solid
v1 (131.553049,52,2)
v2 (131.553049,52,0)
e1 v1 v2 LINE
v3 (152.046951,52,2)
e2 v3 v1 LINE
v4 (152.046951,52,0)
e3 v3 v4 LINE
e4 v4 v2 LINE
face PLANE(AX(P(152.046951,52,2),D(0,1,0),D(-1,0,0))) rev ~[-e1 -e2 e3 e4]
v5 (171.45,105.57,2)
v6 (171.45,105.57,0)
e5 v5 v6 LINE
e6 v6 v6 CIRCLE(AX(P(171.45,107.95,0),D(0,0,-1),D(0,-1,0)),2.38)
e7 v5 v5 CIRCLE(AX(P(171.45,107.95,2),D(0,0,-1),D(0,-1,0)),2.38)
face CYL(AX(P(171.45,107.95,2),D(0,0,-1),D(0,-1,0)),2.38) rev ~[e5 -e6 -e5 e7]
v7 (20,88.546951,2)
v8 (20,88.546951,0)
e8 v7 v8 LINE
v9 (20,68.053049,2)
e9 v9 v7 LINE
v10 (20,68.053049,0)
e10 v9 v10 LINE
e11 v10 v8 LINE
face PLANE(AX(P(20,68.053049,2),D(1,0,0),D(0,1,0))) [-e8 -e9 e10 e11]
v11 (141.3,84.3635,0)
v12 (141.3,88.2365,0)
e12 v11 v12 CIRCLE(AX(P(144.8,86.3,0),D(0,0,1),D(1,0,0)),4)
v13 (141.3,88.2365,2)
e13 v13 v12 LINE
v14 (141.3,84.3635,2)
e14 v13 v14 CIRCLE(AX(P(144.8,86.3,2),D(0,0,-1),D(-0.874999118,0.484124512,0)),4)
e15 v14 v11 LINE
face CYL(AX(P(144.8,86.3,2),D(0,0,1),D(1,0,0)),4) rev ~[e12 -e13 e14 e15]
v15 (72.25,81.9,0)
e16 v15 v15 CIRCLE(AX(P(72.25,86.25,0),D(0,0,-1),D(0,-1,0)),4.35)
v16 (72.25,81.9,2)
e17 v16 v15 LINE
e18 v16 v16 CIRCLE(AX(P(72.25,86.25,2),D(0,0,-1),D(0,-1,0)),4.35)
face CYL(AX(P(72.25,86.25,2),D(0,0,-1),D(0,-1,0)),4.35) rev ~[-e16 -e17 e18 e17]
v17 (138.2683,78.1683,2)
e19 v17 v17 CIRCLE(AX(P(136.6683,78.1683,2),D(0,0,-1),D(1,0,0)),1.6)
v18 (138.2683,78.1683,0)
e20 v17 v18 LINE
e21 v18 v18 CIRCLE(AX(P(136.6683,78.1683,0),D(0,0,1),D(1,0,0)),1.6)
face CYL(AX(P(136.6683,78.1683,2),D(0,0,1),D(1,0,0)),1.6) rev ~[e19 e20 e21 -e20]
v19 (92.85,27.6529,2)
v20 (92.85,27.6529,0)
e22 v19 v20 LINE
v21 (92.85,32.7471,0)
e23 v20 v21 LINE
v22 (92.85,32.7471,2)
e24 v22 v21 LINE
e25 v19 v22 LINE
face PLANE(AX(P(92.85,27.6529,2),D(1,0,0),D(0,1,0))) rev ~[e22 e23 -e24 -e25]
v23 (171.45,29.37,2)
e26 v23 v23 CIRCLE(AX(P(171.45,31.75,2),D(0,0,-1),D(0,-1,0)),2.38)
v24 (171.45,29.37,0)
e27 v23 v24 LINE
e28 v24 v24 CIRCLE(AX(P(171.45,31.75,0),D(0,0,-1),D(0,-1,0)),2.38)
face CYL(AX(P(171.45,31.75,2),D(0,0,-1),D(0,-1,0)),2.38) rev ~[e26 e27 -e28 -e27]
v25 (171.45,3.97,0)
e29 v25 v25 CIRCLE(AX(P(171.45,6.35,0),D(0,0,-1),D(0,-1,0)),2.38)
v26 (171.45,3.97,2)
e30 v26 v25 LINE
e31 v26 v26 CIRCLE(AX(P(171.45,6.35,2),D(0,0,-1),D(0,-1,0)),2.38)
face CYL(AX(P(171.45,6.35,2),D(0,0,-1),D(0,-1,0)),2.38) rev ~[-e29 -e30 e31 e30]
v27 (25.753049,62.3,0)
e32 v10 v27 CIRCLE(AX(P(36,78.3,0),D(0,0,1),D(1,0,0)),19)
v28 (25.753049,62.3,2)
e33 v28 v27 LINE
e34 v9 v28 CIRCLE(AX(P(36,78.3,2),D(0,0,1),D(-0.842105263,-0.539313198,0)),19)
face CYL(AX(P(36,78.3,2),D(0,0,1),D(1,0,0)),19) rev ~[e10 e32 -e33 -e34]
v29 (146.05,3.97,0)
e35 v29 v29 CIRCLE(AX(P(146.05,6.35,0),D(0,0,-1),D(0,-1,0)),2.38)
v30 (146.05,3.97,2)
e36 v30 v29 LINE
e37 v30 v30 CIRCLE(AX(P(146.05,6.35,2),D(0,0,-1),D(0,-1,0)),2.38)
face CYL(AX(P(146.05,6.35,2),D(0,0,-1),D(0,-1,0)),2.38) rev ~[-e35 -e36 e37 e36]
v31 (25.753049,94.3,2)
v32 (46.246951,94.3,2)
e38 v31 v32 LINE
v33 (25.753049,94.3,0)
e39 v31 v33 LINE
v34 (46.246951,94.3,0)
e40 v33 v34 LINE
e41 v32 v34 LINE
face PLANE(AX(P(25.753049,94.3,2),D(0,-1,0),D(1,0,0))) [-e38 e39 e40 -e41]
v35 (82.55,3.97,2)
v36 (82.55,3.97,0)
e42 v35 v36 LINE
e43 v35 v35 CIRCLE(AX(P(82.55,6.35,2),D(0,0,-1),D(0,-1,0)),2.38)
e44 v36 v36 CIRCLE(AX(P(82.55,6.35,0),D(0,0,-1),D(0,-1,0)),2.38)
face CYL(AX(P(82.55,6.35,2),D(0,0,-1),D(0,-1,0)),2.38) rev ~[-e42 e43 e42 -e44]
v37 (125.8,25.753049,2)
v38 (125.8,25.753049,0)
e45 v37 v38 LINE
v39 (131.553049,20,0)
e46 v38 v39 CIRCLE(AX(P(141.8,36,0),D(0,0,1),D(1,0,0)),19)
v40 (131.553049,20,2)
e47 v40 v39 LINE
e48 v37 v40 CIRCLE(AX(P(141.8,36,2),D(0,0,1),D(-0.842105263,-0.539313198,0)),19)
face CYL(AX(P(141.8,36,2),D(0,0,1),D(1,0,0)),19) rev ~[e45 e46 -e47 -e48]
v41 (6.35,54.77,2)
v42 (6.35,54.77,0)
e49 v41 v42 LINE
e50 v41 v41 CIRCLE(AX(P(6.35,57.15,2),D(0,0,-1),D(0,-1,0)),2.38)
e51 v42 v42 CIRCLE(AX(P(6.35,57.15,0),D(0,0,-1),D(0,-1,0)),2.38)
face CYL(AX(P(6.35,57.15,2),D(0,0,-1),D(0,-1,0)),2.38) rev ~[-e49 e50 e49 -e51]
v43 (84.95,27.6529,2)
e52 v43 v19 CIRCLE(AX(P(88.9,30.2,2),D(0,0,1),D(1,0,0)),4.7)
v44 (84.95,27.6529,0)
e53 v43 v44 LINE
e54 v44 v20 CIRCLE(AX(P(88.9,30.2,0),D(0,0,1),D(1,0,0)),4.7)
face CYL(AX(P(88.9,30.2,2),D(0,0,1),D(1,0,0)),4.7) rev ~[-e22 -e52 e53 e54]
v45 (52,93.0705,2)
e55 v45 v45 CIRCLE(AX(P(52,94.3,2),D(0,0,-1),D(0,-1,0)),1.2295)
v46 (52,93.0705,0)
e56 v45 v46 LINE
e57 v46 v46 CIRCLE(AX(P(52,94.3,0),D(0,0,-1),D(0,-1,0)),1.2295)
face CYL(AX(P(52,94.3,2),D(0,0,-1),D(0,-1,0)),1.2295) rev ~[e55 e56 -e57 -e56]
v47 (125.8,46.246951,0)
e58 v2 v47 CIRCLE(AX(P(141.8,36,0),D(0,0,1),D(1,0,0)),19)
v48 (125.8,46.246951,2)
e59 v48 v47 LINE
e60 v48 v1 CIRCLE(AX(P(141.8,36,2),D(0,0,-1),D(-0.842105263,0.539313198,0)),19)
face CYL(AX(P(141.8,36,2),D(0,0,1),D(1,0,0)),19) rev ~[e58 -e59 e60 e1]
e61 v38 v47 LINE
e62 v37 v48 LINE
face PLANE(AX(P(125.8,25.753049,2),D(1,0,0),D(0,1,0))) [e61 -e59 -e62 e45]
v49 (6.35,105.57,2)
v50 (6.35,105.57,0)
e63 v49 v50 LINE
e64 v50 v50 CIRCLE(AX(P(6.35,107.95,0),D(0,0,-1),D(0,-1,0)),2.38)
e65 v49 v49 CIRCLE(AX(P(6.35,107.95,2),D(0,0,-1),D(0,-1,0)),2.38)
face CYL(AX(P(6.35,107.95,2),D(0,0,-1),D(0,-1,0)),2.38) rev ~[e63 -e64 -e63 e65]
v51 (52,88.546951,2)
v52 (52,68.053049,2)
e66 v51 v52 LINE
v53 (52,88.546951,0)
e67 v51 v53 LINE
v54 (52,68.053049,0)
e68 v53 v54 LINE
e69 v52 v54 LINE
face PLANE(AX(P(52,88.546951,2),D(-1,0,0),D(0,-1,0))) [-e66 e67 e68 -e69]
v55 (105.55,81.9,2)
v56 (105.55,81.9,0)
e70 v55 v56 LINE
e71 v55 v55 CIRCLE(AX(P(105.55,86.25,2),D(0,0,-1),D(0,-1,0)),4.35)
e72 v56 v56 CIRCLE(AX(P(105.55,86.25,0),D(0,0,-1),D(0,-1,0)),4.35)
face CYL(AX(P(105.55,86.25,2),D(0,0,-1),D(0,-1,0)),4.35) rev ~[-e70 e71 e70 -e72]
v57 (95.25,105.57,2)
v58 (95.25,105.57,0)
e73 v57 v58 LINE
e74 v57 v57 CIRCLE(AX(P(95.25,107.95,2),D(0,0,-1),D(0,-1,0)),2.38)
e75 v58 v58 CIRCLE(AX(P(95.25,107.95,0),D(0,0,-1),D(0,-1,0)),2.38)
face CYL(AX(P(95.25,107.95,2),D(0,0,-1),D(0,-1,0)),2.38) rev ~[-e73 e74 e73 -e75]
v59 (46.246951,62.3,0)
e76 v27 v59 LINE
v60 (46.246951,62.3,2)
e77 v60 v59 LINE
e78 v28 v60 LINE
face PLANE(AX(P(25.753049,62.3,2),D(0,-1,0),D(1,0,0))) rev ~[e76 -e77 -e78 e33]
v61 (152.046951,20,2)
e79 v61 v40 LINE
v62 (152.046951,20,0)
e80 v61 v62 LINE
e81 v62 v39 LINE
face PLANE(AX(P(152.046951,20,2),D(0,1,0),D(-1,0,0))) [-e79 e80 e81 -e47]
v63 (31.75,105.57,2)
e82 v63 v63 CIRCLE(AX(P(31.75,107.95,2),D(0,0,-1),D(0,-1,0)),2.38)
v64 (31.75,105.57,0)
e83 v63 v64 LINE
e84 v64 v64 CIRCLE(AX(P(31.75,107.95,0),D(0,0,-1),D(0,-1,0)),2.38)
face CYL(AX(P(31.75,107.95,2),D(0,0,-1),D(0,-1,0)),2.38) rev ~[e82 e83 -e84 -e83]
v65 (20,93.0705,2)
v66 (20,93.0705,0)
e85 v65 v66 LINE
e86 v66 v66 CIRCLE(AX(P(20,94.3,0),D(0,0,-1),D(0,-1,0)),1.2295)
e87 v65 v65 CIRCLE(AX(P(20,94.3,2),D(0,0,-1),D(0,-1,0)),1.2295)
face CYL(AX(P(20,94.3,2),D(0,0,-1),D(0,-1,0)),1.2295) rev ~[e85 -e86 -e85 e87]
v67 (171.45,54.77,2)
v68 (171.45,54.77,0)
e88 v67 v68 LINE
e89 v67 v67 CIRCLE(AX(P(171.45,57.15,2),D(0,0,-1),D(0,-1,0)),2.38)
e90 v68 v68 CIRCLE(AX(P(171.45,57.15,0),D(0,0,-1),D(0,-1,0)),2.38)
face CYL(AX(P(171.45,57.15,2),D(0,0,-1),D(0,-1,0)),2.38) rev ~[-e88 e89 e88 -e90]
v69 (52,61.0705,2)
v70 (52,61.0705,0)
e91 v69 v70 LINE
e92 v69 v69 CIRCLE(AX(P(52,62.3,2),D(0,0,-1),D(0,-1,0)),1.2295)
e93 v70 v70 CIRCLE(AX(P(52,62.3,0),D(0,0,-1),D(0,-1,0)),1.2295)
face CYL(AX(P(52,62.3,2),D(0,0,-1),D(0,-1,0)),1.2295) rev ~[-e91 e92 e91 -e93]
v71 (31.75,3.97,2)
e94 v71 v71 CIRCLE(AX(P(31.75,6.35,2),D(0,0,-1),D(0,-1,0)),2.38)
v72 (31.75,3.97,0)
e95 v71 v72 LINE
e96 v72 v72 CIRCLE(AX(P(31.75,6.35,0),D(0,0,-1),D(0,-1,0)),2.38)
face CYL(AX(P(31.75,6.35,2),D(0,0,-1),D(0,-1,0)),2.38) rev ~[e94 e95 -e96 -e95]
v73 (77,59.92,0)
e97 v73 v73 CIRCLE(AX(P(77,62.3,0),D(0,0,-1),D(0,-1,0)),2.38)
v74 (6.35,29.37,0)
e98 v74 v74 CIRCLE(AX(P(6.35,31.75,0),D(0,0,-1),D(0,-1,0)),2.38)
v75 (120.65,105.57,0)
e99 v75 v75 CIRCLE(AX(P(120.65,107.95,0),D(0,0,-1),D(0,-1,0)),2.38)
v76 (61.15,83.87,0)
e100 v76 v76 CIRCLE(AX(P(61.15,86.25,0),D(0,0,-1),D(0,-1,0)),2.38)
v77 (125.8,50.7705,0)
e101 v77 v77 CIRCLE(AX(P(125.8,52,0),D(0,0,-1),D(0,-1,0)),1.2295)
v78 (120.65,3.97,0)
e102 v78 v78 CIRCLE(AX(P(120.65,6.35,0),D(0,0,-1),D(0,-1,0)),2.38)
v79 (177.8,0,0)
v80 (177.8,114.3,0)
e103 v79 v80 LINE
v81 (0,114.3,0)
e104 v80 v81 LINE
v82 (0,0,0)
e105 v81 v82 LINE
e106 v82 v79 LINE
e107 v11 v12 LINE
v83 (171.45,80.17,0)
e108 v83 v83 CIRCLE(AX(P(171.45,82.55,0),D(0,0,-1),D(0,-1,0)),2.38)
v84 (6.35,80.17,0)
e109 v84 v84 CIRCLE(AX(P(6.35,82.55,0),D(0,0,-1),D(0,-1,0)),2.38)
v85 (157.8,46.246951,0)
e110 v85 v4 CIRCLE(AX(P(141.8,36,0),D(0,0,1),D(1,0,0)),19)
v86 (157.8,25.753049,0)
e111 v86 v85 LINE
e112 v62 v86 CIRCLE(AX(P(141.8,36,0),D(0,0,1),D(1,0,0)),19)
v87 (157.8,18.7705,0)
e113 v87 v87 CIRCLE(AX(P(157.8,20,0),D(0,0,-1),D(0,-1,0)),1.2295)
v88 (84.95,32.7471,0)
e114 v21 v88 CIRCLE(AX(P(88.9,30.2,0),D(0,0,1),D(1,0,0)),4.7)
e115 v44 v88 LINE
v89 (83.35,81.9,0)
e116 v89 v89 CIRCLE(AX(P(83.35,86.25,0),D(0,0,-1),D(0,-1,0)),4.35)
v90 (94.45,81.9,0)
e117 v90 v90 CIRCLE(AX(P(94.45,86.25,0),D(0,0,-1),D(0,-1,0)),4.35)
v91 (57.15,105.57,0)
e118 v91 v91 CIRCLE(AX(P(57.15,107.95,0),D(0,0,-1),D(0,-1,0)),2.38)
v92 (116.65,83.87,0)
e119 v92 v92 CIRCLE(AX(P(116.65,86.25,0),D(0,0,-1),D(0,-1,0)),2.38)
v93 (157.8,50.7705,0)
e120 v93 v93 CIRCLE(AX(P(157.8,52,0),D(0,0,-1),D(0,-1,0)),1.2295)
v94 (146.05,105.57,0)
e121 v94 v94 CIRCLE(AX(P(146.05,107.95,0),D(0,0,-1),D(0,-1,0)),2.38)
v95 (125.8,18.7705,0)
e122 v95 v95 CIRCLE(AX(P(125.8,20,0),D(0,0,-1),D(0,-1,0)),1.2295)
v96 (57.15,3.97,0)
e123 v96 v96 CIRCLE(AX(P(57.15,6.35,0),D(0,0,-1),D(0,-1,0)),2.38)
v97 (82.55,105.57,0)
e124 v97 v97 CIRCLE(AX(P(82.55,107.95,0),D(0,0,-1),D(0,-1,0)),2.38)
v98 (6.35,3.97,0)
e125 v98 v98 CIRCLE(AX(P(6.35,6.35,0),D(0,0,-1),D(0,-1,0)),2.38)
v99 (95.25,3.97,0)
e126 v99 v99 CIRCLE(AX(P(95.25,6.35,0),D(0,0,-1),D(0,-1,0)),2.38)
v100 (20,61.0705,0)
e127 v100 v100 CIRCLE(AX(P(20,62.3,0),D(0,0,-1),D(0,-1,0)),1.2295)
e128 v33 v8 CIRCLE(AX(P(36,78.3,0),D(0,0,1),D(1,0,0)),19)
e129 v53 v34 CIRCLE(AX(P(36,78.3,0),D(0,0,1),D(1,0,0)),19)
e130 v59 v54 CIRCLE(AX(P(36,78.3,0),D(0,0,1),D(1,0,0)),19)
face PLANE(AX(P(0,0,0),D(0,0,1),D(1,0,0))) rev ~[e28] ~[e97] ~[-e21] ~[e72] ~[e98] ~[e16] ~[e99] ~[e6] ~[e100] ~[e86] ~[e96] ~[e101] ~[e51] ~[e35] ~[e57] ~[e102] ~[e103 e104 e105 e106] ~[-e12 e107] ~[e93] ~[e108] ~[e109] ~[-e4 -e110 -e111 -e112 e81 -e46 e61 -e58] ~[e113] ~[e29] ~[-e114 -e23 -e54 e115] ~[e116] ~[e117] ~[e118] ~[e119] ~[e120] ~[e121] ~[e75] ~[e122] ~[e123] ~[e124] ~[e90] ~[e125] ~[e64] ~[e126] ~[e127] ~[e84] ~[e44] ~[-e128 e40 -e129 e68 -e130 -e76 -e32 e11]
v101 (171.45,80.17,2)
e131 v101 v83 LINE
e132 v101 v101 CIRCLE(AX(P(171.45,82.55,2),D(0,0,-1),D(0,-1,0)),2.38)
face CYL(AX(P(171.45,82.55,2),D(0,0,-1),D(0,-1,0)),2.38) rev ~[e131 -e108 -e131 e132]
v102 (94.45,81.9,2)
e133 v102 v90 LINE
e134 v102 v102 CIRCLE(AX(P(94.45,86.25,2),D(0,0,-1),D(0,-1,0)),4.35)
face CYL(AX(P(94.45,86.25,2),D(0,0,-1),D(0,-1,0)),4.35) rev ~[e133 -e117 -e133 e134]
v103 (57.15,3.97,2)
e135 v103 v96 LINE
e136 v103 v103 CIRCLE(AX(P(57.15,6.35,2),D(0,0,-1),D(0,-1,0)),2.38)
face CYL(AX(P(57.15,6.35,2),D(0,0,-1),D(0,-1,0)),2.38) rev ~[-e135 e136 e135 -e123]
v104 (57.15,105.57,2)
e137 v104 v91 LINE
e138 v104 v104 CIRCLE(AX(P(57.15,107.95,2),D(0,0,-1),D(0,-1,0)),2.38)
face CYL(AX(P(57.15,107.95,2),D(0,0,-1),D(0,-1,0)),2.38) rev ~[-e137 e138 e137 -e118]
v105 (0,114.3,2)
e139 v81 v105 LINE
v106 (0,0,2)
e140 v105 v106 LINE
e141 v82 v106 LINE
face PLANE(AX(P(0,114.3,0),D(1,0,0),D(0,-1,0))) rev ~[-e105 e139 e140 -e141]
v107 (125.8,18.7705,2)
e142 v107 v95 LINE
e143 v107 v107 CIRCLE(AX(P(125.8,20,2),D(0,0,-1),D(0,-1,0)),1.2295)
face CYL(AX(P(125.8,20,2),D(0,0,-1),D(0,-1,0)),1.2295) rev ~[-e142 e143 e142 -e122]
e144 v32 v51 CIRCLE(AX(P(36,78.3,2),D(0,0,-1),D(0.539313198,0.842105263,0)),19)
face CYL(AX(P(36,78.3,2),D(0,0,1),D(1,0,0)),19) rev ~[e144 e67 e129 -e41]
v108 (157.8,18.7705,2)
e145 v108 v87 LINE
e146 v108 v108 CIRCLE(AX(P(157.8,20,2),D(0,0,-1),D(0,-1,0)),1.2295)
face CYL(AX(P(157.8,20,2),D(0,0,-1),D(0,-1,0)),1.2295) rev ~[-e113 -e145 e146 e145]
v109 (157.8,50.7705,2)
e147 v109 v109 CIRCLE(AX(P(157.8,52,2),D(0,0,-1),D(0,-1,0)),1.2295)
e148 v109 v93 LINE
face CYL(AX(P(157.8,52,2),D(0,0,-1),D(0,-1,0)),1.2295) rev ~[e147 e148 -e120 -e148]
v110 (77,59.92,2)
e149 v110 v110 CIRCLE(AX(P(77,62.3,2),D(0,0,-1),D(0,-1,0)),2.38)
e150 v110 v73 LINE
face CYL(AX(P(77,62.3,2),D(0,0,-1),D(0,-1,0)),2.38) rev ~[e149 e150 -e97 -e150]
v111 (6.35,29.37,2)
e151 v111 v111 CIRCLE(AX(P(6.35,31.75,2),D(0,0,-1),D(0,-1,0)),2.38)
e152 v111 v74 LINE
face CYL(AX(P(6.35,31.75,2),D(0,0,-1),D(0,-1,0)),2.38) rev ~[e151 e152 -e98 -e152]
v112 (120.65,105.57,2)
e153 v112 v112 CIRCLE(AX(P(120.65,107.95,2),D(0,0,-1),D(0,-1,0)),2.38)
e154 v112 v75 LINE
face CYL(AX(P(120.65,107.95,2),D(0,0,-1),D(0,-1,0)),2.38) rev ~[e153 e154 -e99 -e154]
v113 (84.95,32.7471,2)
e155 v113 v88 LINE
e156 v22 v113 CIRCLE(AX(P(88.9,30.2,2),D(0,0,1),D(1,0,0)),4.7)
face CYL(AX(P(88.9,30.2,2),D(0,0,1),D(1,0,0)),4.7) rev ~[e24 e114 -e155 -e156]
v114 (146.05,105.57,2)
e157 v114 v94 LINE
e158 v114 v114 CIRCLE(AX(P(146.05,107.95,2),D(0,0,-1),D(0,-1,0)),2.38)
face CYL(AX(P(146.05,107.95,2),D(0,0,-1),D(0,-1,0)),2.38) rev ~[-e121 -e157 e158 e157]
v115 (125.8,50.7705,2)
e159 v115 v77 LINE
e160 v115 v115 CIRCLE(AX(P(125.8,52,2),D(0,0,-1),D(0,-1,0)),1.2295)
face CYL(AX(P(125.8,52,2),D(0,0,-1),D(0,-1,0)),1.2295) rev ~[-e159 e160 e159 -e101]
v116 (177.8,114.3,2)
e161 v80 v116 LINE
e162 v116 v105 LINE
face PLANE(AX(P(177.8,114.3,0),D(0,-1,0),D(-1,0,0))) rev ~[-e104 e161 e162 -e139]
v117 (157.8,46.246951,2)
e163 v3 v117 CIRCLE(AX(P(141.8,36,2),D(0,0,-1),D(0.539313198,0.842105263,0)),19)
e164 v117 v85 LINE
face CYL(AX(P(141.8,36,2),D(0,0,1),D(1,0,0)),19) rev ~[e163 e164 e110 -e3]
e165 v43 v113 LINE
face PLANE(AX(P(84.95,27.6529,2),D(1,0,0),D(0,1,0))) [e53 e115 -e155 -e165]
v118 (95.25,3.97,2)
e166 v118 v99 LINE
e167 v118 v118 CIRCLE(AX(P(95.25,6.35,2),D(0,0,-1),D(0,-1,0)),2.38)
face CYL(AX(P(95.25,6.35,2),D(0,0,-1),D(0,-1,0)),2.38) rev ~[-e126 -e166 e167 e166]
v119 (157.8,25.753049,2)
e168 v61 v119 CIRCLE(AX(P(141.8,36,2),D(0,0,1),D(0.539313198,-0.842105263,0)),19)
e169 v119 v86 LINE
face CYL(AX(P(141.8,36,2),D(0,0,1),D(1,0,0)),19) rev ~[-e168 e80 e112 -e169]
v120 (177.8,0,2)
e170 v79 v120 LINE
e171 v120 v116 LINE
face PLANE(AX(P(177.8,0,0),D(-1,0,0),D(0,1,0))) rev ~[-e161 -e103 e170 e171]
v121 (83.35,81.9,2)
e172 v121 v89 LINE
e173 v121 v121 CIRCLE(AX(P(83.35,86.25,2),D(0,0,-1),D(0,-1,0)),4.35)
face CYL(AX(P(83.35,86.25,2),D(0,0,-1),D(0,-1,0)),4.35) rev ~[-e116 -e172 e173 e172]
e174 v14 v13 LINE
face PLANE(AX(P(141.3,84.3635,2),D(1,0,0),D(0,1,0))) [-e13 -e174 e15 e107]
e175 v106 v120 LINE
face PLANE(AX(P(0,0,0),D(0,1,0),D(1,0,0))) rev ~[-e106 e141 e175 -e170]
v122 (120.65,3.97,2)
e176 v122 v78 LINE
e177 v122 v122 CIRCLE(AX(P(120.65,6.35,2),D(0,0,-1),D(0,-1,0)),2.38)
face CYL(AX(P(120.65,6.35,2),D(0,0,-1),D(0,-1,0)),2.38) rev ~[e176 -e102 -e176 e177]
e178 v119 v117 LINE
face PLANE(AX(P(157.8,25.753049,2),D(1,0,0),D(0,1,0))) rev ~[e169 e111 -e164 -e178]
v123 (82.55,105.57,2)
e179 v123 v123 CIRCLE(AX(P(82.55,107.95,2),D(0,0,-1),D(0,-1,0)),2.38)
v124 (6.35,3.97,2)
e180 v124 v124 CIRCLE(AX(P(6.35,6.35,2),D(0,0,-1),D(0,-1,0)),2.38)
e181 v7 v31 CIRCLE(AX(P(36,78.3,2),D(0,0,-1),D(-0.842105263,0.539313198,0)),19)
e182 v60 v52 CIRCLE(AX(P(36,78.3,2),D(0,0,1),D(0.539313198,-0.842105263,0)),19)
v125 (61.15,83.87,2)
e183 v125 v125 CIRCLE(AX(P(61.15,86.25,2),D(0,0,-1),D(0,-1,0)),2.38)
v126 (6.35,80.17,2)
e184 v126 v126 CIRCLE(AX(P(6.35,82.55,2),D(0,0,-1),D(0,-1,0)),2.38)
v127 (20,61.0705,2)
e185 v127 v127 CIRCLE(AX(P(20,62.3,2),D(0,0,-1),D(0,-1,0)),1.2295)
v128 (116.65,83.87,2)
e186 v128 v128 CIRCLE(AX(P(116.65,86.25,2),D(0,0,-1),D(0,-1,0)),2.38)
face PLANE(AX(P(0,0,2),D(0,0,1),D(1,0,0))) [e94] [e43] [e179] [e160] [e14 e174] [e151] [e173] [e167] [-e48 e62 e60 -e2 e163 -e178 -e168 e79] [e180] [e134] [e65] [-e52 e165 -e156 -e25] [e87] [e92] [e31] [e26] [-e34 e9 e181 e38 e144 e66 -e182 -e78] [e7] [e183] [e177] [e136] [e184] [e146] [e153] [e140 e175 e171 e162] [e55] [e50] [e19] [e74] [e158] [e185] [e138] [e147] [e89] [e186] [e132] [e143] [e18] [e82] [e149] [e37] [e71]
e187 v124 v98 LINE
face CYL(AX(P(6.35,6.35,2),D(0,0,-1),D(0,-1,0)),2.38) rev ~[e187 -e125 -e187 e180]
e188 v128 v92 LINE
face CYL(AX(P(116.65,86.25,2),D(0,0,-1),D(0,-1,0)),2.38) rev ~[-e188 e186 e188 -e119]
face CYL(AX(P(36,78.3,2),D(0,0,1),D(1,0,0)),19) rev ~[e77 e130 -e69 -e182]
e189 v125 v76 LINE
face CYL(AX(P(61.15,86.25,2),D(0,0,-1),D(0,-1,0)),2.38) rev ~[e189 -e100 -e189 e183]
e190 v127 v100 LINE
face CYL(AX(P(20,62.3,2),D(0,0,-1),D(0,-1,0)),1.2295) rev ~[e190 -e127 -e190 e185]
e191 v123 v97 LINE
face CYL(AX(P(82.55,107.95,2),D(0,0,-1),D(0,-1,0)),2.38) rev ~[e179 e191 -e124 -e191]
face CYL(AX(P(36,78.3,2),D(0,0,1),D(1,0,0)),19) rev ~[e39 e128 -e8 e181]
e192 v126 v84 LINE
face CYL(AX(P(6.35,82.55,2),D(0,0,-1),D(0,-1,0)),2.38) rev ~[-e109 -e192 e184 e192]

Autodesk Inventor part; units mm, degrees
ref_plane "YZ Plane" through (0, 0, 0) normal (1, 0, 0) x (0, 1, 0)
ref_plane "XZ Plane" through (0, 0, 0) normal (0, 1, 0) x (-1, 0, 0)
ref_plane "XY Plane" through (0, 0, 0) normal (0, 0, 1) x (1, 0, 0)
sketch "Sketch1" plane through (0, 0, 0) normal (0, 0, 1) x (1, 0, 0)
  line L0 (0, 0) -> (177.8, 0)
  line L1 (177.8, 0) -> (177.8, 114.3)
  line L2 (177.8, 114.3) -> (0, 114.3)
  line L3 (0, 114.3) -> (0, 0)
  dimension "d0" = 177.8
  dimension "d1" = 114.3
extrude "Extrusion1" add sketch "Sketch1" along normal blind 2
sketch "Sketch2" plane through (0, 0, 2) normal (0, 0, 1) x (1, 0, 0)
  line L0 (0, 114.3) -> (0, 0) projected
  line L1 (177.8, 114.3) -> (0, 114.3) projected
  line L2 (177.8, 0) -> (177.8, 114.3) projected
  point P0 (6.35, 107.95)
  point P1 (6.35, 82.55)
  point P2 (6.35, 57.15)
  point P3 (6.35, 31.75)
  point P4 (6.35, 6.35)
  point P5 (31.75, 6.35)
  point P6 (57.15, 6.35)
  point P7 (82.55, 6.35)
  point P8 (95.25, 6.35)
  point P9 (146.05, 6.35)
  point P10 (120.65, 6.35)
  point P11 (171.45, 6.35)
  point P12 (171.45, 31.75)
  point P13 (171.45, 57.15)
  point P14 (171.45, 82.55)
  point P15 (171.45, 107.95)
  point P16 (120.65, 107.95)
  point P17 (146.05, 107.95)
  point P18 (95.25, 107.95)
  point P19 (82.55, 107.95)
  point P20 (57.15, 107.95)
  point P21 (31.75, 107.95)
  dimension "d4" = 25.4
  dimension "d5" = 6.35
  dimension "d7" = 6.35
  dimension "d8" = 25.4
  dimension "d9" = 25.4
  dimension "d10" = 25.4
  dimension "d11" = 25.4
  dimension "d12" = 25.4
  dimension "d13" = 25.4
  dimension "d14" = 6.35
  dimension "d15" = 25.4
  dimension "d16" = 25.4
  dimension "d17" = 25.4
hole "Hole1" at (6.35, 107.95, 2) at (6.35, 82.55, 2) at (6.35, 57.15, 2) at (6.35, 31.75, 2) at (6.35, 6.35, 2) at (31.75, 6.35, 2) at (57.15, 6.35, 2) at (82.55, 6.35, 2) at (95.25, 6.35, 2) at (146.05, 6.35, 2) at (120.65, 6.35, 2) at (171.45, 6.35, 2) at (171.45, 31.75, 2) at (171.45, 57.15, 2) at (171.45, 82.55, 2) at (171.45, 107.95, 2) at (120.65, 107.95, 2) at (146.05, 107.95, 2) at (95.25, 107.95, 2) at (82.55, 107.95, 2) at (57.15, 107.95, 2) at (31.75, 107.95, 2) direction (0, 0, -1) diameter 4.76 end through all
sketch "Sketch3" plane through (0, 0, 2) normal (0, 0, 1) x (1, 0, 0)
  line L0 (177.8, 114.3) -> (0, 114.3) projected
  line L1 (88.9, 114.3) -> (88.9, 0) construction
  line L2 (0, 0) -> (177.8, 0) projected
  point P0 (83.35, 86.25)
  point P1 (94.45, 86.25)
  point P2 (105.55, 86.25)
  point P3 (72.25, 86.25)
  point P4 (61.15, 86.25)
  point P5 (116.65, 86.25)
  dimension "d25" = 28.05
  dimension "d26" = 5.55
  dimension "d27" = 11.1
  dimension "d28" = 11.1
  dimension "d29" = 11.1
  dimension "d37" = 11.1
  dimension "d38" = 11.1
hole "Hole2" at (83.35, 86.25, 2) at (94.45, 86.25, 2) at (105.55, 86.25, 2) at (72.25, 86.25, 2) direction (0, 0, -1) diameter 8.7 end through all
hole "Hole3" at (116.65, 86.25, 2) at (61.15, 86.25, 2) direction (0, 0, -1) diameter 4.76 end through all
sketch "Sketch5" plane through (0, 0, 2) normal (0, 0, 1) x (1, 0, 0)
  line L0 (177.8, 114.3) -> (0, 114.3) projected
  line L1 (88.9, 114.3) -> (88.9, 0) construction
  circle A0 centre (88.9, 30.2) radius 4.7
  line L2 (84.95, 27.6529) -> (84.95, 32.7471)
  line L3 (92.85, 27.6529) -> (92.85, 32.7471)
  line L4 (0, 0) -> (177.8, 0) projected
  point P0 (88.9, 0)
  dimension "d46" = 9.4
  dimension "d47" = 7.9
  dimension "d48" = 3.95
  dimension "d49" = 30.2
extrude "Extrusion2" cut sketch "Sketch5" against normal through all contours L3 A0 L2
sketch "Sketch6" plane through (0, 0, 2) normal (0, 0, 1) x (1, 0, 0)
  circle A0 centre (144.8, 86.3) radius 4
  line L0 (177.8, 114.3) -> (0, 114.3) projected
  line L1 (177.8, 0) -> (177.8, 114.3) projected
  line L2 (141.3, 84.3635) -> (141.3, 88.2365)
  line L3 (144.8, 86.3) -> (136.6683, 78.1683)
  line L4 (144.8, 86.3) -> (144.8, 114.3)
  circle A1 centre (136.6683, 78.1683) radius 1.6
  point P0 (0, 0)
  dimension "d52" = 28
  dimension "d53" = 33
  dimension "d54" = 8
  dimension "d55" = 7.5
  dimension "d58" = 135
  dimension "d59" = 11.5
  dimension "d60" = 3.2
extrude "Extrusion3" cut sketch "Sketch6" against normal through all contours A1 | A0 L4 L3 L2 | A0 L3 L4
sketch "Sketch7" plane through (0, 0, 2) normal (0, 0, 1) x (1, 0, 0)
  line L0 (177.8, 0) -> (177.8, 114.3) projected
  line L1 (0, 0) -> (177.8, 0) projected
  point P0 (125.8, 52)
  point P1 (157.8, 52)
  point P2 (157.8, 20)
  point P3 (125.8, 20)
  dimension "d61" = 20
  dimension "d62" = 32
  dimension "d63" = 32
  dimension "d64" = 20
hole "Hole4" at (125.8, 52, 2) at (157.8, 52, 2) at (157.8, 20, 2) at (125.8, 20, 2) direction (0, 0, -1) diameter 2.459 end through all thread size "M3x0.5" class "6H" standard "ANSI Metric M Profile"
sketch "Sketch8" plane through (0, 0, 2) normal (0, 0, 1) x (1, 0, 0)
  line L0 (177.8, 114.3) -> (0, 114.3) projected
  line L1 (0, 114.3) -> (0, 0) projected
  point P0 (20, 94.3)
  point P1 (52, 94.3)
  point P2 (52, 62.3)
  point P3 (20, 62.3)
  dimension "d72" = 32
  dimension "d73" = 32
  dimension "d74" = 20
  dimension "d75" = 20
hole "Hole5" at (20, 94.3, 2) at (52, 94.3, 2) at (52, 62.3, 2) at (20, 62.3, 2) direction (0, 0, -1) diameter 2.459 end through all thread size "M3x0.5" class "6H" standard "ANSI Metric M Profile"
sketch "Sketch9" plane through (0, 0, 2) normal (0, 0, 1) x (1, 0, 0)
  line L0 (0, 114.3) -> (0, 0) projected
  line L1 (177.8, 114.3) -> (0, 114.3) projected
  point P0 (77, 62.3)
  dimension "d83" = 77
  dimension "d84" = 52
hole "Hole6" at (77, 62.3, 2) direction (0, 0, -1) diameter 4.76 end through all
sketch "Sketch10" plane through (0, 0, 2) normal (0, 0, 1) x (1, 0, 0)
  circle A0 centre (20, 94.3) radius 1.2295 projected
  circle A1 centre (52, 94.3) radius 1.2295 projected
  circle A2 centre (52, 62.3) radius 1.2295 projected
  line L0 (20, 94.3) -> (52, 62.3)
  circle A3 centre (20, 62.3) radius 1.2295 projected
  line L1 (20, 62.3) -> (52, 94.3)
  circle A4 centre (36, 78.3) radius 19
  line L2 (20, 62.3) -> (20, 94.3)
  line L3 (20, 94.3) -> (52, 94.3)
  line L4 (52, 94.3) -> (52, 62.3)
  line L5 (20, 62.3) -> (52, 62.3)
  circle A5 centre (125.8, 52) radius 1.2295 projected
  circle A6 centre (157.8, 20) radius 1.2295 projected
  line L6 (125.8, 52) -> (157.8, 20)
  line L7 (157.8, 20) -> (157.8, 52)
  line L8 (157.8, 52) -> (125.8, 52)
  circle A7 centre (125.8, 20) radius 1.2295 projected
  line L9 (125.8, 20) -> (125.8, 52)
  line L10 (125.8, 20) -> (157.8, 52)
  line L11 (157.8, 20) -> (125.8, 20)
  circle A8 centre (141.8, 36) radius 19
  point P0 (0, 0)
  point P1 (125.8, 46.247)
  point P2 (125.8, 25.753)
  point P3 (131.553, 20)
  point P4 (152.047, 20)
  point P5 (157.8, 25.753)
  point P6 (157.8, 46.247)
  point P7 (152.047, 52)
  point P8 (131.553, 52)
  point P9 (20, 88.547)
  point P10 (20, 68.053)
  point P11 (25.753, 62.3)
  point P12 (46.247, 62.3)
  point P13 (52, 68.053)
  point P14 (52, 88.547)
  point P15 (46.247, 94.3)
  point P16 (25.753, 94.3)
  dimension "d92" = 38
  dimension "d93" = 38
extrude "Extrusion4" cut sketch "Sketch10" against normal blind 10 contours L3 A4 L1 L0 | A4 L0 L1 L2 | L1 A4 L4 L0 | L0 A4 L5 L1 | L8 A8 L10 L6 | A8 L6 L10 L9 | L10 A8 L7 L6 | L6 A8 L11 L10
properties part number "NRDZ_Fan_plate"
